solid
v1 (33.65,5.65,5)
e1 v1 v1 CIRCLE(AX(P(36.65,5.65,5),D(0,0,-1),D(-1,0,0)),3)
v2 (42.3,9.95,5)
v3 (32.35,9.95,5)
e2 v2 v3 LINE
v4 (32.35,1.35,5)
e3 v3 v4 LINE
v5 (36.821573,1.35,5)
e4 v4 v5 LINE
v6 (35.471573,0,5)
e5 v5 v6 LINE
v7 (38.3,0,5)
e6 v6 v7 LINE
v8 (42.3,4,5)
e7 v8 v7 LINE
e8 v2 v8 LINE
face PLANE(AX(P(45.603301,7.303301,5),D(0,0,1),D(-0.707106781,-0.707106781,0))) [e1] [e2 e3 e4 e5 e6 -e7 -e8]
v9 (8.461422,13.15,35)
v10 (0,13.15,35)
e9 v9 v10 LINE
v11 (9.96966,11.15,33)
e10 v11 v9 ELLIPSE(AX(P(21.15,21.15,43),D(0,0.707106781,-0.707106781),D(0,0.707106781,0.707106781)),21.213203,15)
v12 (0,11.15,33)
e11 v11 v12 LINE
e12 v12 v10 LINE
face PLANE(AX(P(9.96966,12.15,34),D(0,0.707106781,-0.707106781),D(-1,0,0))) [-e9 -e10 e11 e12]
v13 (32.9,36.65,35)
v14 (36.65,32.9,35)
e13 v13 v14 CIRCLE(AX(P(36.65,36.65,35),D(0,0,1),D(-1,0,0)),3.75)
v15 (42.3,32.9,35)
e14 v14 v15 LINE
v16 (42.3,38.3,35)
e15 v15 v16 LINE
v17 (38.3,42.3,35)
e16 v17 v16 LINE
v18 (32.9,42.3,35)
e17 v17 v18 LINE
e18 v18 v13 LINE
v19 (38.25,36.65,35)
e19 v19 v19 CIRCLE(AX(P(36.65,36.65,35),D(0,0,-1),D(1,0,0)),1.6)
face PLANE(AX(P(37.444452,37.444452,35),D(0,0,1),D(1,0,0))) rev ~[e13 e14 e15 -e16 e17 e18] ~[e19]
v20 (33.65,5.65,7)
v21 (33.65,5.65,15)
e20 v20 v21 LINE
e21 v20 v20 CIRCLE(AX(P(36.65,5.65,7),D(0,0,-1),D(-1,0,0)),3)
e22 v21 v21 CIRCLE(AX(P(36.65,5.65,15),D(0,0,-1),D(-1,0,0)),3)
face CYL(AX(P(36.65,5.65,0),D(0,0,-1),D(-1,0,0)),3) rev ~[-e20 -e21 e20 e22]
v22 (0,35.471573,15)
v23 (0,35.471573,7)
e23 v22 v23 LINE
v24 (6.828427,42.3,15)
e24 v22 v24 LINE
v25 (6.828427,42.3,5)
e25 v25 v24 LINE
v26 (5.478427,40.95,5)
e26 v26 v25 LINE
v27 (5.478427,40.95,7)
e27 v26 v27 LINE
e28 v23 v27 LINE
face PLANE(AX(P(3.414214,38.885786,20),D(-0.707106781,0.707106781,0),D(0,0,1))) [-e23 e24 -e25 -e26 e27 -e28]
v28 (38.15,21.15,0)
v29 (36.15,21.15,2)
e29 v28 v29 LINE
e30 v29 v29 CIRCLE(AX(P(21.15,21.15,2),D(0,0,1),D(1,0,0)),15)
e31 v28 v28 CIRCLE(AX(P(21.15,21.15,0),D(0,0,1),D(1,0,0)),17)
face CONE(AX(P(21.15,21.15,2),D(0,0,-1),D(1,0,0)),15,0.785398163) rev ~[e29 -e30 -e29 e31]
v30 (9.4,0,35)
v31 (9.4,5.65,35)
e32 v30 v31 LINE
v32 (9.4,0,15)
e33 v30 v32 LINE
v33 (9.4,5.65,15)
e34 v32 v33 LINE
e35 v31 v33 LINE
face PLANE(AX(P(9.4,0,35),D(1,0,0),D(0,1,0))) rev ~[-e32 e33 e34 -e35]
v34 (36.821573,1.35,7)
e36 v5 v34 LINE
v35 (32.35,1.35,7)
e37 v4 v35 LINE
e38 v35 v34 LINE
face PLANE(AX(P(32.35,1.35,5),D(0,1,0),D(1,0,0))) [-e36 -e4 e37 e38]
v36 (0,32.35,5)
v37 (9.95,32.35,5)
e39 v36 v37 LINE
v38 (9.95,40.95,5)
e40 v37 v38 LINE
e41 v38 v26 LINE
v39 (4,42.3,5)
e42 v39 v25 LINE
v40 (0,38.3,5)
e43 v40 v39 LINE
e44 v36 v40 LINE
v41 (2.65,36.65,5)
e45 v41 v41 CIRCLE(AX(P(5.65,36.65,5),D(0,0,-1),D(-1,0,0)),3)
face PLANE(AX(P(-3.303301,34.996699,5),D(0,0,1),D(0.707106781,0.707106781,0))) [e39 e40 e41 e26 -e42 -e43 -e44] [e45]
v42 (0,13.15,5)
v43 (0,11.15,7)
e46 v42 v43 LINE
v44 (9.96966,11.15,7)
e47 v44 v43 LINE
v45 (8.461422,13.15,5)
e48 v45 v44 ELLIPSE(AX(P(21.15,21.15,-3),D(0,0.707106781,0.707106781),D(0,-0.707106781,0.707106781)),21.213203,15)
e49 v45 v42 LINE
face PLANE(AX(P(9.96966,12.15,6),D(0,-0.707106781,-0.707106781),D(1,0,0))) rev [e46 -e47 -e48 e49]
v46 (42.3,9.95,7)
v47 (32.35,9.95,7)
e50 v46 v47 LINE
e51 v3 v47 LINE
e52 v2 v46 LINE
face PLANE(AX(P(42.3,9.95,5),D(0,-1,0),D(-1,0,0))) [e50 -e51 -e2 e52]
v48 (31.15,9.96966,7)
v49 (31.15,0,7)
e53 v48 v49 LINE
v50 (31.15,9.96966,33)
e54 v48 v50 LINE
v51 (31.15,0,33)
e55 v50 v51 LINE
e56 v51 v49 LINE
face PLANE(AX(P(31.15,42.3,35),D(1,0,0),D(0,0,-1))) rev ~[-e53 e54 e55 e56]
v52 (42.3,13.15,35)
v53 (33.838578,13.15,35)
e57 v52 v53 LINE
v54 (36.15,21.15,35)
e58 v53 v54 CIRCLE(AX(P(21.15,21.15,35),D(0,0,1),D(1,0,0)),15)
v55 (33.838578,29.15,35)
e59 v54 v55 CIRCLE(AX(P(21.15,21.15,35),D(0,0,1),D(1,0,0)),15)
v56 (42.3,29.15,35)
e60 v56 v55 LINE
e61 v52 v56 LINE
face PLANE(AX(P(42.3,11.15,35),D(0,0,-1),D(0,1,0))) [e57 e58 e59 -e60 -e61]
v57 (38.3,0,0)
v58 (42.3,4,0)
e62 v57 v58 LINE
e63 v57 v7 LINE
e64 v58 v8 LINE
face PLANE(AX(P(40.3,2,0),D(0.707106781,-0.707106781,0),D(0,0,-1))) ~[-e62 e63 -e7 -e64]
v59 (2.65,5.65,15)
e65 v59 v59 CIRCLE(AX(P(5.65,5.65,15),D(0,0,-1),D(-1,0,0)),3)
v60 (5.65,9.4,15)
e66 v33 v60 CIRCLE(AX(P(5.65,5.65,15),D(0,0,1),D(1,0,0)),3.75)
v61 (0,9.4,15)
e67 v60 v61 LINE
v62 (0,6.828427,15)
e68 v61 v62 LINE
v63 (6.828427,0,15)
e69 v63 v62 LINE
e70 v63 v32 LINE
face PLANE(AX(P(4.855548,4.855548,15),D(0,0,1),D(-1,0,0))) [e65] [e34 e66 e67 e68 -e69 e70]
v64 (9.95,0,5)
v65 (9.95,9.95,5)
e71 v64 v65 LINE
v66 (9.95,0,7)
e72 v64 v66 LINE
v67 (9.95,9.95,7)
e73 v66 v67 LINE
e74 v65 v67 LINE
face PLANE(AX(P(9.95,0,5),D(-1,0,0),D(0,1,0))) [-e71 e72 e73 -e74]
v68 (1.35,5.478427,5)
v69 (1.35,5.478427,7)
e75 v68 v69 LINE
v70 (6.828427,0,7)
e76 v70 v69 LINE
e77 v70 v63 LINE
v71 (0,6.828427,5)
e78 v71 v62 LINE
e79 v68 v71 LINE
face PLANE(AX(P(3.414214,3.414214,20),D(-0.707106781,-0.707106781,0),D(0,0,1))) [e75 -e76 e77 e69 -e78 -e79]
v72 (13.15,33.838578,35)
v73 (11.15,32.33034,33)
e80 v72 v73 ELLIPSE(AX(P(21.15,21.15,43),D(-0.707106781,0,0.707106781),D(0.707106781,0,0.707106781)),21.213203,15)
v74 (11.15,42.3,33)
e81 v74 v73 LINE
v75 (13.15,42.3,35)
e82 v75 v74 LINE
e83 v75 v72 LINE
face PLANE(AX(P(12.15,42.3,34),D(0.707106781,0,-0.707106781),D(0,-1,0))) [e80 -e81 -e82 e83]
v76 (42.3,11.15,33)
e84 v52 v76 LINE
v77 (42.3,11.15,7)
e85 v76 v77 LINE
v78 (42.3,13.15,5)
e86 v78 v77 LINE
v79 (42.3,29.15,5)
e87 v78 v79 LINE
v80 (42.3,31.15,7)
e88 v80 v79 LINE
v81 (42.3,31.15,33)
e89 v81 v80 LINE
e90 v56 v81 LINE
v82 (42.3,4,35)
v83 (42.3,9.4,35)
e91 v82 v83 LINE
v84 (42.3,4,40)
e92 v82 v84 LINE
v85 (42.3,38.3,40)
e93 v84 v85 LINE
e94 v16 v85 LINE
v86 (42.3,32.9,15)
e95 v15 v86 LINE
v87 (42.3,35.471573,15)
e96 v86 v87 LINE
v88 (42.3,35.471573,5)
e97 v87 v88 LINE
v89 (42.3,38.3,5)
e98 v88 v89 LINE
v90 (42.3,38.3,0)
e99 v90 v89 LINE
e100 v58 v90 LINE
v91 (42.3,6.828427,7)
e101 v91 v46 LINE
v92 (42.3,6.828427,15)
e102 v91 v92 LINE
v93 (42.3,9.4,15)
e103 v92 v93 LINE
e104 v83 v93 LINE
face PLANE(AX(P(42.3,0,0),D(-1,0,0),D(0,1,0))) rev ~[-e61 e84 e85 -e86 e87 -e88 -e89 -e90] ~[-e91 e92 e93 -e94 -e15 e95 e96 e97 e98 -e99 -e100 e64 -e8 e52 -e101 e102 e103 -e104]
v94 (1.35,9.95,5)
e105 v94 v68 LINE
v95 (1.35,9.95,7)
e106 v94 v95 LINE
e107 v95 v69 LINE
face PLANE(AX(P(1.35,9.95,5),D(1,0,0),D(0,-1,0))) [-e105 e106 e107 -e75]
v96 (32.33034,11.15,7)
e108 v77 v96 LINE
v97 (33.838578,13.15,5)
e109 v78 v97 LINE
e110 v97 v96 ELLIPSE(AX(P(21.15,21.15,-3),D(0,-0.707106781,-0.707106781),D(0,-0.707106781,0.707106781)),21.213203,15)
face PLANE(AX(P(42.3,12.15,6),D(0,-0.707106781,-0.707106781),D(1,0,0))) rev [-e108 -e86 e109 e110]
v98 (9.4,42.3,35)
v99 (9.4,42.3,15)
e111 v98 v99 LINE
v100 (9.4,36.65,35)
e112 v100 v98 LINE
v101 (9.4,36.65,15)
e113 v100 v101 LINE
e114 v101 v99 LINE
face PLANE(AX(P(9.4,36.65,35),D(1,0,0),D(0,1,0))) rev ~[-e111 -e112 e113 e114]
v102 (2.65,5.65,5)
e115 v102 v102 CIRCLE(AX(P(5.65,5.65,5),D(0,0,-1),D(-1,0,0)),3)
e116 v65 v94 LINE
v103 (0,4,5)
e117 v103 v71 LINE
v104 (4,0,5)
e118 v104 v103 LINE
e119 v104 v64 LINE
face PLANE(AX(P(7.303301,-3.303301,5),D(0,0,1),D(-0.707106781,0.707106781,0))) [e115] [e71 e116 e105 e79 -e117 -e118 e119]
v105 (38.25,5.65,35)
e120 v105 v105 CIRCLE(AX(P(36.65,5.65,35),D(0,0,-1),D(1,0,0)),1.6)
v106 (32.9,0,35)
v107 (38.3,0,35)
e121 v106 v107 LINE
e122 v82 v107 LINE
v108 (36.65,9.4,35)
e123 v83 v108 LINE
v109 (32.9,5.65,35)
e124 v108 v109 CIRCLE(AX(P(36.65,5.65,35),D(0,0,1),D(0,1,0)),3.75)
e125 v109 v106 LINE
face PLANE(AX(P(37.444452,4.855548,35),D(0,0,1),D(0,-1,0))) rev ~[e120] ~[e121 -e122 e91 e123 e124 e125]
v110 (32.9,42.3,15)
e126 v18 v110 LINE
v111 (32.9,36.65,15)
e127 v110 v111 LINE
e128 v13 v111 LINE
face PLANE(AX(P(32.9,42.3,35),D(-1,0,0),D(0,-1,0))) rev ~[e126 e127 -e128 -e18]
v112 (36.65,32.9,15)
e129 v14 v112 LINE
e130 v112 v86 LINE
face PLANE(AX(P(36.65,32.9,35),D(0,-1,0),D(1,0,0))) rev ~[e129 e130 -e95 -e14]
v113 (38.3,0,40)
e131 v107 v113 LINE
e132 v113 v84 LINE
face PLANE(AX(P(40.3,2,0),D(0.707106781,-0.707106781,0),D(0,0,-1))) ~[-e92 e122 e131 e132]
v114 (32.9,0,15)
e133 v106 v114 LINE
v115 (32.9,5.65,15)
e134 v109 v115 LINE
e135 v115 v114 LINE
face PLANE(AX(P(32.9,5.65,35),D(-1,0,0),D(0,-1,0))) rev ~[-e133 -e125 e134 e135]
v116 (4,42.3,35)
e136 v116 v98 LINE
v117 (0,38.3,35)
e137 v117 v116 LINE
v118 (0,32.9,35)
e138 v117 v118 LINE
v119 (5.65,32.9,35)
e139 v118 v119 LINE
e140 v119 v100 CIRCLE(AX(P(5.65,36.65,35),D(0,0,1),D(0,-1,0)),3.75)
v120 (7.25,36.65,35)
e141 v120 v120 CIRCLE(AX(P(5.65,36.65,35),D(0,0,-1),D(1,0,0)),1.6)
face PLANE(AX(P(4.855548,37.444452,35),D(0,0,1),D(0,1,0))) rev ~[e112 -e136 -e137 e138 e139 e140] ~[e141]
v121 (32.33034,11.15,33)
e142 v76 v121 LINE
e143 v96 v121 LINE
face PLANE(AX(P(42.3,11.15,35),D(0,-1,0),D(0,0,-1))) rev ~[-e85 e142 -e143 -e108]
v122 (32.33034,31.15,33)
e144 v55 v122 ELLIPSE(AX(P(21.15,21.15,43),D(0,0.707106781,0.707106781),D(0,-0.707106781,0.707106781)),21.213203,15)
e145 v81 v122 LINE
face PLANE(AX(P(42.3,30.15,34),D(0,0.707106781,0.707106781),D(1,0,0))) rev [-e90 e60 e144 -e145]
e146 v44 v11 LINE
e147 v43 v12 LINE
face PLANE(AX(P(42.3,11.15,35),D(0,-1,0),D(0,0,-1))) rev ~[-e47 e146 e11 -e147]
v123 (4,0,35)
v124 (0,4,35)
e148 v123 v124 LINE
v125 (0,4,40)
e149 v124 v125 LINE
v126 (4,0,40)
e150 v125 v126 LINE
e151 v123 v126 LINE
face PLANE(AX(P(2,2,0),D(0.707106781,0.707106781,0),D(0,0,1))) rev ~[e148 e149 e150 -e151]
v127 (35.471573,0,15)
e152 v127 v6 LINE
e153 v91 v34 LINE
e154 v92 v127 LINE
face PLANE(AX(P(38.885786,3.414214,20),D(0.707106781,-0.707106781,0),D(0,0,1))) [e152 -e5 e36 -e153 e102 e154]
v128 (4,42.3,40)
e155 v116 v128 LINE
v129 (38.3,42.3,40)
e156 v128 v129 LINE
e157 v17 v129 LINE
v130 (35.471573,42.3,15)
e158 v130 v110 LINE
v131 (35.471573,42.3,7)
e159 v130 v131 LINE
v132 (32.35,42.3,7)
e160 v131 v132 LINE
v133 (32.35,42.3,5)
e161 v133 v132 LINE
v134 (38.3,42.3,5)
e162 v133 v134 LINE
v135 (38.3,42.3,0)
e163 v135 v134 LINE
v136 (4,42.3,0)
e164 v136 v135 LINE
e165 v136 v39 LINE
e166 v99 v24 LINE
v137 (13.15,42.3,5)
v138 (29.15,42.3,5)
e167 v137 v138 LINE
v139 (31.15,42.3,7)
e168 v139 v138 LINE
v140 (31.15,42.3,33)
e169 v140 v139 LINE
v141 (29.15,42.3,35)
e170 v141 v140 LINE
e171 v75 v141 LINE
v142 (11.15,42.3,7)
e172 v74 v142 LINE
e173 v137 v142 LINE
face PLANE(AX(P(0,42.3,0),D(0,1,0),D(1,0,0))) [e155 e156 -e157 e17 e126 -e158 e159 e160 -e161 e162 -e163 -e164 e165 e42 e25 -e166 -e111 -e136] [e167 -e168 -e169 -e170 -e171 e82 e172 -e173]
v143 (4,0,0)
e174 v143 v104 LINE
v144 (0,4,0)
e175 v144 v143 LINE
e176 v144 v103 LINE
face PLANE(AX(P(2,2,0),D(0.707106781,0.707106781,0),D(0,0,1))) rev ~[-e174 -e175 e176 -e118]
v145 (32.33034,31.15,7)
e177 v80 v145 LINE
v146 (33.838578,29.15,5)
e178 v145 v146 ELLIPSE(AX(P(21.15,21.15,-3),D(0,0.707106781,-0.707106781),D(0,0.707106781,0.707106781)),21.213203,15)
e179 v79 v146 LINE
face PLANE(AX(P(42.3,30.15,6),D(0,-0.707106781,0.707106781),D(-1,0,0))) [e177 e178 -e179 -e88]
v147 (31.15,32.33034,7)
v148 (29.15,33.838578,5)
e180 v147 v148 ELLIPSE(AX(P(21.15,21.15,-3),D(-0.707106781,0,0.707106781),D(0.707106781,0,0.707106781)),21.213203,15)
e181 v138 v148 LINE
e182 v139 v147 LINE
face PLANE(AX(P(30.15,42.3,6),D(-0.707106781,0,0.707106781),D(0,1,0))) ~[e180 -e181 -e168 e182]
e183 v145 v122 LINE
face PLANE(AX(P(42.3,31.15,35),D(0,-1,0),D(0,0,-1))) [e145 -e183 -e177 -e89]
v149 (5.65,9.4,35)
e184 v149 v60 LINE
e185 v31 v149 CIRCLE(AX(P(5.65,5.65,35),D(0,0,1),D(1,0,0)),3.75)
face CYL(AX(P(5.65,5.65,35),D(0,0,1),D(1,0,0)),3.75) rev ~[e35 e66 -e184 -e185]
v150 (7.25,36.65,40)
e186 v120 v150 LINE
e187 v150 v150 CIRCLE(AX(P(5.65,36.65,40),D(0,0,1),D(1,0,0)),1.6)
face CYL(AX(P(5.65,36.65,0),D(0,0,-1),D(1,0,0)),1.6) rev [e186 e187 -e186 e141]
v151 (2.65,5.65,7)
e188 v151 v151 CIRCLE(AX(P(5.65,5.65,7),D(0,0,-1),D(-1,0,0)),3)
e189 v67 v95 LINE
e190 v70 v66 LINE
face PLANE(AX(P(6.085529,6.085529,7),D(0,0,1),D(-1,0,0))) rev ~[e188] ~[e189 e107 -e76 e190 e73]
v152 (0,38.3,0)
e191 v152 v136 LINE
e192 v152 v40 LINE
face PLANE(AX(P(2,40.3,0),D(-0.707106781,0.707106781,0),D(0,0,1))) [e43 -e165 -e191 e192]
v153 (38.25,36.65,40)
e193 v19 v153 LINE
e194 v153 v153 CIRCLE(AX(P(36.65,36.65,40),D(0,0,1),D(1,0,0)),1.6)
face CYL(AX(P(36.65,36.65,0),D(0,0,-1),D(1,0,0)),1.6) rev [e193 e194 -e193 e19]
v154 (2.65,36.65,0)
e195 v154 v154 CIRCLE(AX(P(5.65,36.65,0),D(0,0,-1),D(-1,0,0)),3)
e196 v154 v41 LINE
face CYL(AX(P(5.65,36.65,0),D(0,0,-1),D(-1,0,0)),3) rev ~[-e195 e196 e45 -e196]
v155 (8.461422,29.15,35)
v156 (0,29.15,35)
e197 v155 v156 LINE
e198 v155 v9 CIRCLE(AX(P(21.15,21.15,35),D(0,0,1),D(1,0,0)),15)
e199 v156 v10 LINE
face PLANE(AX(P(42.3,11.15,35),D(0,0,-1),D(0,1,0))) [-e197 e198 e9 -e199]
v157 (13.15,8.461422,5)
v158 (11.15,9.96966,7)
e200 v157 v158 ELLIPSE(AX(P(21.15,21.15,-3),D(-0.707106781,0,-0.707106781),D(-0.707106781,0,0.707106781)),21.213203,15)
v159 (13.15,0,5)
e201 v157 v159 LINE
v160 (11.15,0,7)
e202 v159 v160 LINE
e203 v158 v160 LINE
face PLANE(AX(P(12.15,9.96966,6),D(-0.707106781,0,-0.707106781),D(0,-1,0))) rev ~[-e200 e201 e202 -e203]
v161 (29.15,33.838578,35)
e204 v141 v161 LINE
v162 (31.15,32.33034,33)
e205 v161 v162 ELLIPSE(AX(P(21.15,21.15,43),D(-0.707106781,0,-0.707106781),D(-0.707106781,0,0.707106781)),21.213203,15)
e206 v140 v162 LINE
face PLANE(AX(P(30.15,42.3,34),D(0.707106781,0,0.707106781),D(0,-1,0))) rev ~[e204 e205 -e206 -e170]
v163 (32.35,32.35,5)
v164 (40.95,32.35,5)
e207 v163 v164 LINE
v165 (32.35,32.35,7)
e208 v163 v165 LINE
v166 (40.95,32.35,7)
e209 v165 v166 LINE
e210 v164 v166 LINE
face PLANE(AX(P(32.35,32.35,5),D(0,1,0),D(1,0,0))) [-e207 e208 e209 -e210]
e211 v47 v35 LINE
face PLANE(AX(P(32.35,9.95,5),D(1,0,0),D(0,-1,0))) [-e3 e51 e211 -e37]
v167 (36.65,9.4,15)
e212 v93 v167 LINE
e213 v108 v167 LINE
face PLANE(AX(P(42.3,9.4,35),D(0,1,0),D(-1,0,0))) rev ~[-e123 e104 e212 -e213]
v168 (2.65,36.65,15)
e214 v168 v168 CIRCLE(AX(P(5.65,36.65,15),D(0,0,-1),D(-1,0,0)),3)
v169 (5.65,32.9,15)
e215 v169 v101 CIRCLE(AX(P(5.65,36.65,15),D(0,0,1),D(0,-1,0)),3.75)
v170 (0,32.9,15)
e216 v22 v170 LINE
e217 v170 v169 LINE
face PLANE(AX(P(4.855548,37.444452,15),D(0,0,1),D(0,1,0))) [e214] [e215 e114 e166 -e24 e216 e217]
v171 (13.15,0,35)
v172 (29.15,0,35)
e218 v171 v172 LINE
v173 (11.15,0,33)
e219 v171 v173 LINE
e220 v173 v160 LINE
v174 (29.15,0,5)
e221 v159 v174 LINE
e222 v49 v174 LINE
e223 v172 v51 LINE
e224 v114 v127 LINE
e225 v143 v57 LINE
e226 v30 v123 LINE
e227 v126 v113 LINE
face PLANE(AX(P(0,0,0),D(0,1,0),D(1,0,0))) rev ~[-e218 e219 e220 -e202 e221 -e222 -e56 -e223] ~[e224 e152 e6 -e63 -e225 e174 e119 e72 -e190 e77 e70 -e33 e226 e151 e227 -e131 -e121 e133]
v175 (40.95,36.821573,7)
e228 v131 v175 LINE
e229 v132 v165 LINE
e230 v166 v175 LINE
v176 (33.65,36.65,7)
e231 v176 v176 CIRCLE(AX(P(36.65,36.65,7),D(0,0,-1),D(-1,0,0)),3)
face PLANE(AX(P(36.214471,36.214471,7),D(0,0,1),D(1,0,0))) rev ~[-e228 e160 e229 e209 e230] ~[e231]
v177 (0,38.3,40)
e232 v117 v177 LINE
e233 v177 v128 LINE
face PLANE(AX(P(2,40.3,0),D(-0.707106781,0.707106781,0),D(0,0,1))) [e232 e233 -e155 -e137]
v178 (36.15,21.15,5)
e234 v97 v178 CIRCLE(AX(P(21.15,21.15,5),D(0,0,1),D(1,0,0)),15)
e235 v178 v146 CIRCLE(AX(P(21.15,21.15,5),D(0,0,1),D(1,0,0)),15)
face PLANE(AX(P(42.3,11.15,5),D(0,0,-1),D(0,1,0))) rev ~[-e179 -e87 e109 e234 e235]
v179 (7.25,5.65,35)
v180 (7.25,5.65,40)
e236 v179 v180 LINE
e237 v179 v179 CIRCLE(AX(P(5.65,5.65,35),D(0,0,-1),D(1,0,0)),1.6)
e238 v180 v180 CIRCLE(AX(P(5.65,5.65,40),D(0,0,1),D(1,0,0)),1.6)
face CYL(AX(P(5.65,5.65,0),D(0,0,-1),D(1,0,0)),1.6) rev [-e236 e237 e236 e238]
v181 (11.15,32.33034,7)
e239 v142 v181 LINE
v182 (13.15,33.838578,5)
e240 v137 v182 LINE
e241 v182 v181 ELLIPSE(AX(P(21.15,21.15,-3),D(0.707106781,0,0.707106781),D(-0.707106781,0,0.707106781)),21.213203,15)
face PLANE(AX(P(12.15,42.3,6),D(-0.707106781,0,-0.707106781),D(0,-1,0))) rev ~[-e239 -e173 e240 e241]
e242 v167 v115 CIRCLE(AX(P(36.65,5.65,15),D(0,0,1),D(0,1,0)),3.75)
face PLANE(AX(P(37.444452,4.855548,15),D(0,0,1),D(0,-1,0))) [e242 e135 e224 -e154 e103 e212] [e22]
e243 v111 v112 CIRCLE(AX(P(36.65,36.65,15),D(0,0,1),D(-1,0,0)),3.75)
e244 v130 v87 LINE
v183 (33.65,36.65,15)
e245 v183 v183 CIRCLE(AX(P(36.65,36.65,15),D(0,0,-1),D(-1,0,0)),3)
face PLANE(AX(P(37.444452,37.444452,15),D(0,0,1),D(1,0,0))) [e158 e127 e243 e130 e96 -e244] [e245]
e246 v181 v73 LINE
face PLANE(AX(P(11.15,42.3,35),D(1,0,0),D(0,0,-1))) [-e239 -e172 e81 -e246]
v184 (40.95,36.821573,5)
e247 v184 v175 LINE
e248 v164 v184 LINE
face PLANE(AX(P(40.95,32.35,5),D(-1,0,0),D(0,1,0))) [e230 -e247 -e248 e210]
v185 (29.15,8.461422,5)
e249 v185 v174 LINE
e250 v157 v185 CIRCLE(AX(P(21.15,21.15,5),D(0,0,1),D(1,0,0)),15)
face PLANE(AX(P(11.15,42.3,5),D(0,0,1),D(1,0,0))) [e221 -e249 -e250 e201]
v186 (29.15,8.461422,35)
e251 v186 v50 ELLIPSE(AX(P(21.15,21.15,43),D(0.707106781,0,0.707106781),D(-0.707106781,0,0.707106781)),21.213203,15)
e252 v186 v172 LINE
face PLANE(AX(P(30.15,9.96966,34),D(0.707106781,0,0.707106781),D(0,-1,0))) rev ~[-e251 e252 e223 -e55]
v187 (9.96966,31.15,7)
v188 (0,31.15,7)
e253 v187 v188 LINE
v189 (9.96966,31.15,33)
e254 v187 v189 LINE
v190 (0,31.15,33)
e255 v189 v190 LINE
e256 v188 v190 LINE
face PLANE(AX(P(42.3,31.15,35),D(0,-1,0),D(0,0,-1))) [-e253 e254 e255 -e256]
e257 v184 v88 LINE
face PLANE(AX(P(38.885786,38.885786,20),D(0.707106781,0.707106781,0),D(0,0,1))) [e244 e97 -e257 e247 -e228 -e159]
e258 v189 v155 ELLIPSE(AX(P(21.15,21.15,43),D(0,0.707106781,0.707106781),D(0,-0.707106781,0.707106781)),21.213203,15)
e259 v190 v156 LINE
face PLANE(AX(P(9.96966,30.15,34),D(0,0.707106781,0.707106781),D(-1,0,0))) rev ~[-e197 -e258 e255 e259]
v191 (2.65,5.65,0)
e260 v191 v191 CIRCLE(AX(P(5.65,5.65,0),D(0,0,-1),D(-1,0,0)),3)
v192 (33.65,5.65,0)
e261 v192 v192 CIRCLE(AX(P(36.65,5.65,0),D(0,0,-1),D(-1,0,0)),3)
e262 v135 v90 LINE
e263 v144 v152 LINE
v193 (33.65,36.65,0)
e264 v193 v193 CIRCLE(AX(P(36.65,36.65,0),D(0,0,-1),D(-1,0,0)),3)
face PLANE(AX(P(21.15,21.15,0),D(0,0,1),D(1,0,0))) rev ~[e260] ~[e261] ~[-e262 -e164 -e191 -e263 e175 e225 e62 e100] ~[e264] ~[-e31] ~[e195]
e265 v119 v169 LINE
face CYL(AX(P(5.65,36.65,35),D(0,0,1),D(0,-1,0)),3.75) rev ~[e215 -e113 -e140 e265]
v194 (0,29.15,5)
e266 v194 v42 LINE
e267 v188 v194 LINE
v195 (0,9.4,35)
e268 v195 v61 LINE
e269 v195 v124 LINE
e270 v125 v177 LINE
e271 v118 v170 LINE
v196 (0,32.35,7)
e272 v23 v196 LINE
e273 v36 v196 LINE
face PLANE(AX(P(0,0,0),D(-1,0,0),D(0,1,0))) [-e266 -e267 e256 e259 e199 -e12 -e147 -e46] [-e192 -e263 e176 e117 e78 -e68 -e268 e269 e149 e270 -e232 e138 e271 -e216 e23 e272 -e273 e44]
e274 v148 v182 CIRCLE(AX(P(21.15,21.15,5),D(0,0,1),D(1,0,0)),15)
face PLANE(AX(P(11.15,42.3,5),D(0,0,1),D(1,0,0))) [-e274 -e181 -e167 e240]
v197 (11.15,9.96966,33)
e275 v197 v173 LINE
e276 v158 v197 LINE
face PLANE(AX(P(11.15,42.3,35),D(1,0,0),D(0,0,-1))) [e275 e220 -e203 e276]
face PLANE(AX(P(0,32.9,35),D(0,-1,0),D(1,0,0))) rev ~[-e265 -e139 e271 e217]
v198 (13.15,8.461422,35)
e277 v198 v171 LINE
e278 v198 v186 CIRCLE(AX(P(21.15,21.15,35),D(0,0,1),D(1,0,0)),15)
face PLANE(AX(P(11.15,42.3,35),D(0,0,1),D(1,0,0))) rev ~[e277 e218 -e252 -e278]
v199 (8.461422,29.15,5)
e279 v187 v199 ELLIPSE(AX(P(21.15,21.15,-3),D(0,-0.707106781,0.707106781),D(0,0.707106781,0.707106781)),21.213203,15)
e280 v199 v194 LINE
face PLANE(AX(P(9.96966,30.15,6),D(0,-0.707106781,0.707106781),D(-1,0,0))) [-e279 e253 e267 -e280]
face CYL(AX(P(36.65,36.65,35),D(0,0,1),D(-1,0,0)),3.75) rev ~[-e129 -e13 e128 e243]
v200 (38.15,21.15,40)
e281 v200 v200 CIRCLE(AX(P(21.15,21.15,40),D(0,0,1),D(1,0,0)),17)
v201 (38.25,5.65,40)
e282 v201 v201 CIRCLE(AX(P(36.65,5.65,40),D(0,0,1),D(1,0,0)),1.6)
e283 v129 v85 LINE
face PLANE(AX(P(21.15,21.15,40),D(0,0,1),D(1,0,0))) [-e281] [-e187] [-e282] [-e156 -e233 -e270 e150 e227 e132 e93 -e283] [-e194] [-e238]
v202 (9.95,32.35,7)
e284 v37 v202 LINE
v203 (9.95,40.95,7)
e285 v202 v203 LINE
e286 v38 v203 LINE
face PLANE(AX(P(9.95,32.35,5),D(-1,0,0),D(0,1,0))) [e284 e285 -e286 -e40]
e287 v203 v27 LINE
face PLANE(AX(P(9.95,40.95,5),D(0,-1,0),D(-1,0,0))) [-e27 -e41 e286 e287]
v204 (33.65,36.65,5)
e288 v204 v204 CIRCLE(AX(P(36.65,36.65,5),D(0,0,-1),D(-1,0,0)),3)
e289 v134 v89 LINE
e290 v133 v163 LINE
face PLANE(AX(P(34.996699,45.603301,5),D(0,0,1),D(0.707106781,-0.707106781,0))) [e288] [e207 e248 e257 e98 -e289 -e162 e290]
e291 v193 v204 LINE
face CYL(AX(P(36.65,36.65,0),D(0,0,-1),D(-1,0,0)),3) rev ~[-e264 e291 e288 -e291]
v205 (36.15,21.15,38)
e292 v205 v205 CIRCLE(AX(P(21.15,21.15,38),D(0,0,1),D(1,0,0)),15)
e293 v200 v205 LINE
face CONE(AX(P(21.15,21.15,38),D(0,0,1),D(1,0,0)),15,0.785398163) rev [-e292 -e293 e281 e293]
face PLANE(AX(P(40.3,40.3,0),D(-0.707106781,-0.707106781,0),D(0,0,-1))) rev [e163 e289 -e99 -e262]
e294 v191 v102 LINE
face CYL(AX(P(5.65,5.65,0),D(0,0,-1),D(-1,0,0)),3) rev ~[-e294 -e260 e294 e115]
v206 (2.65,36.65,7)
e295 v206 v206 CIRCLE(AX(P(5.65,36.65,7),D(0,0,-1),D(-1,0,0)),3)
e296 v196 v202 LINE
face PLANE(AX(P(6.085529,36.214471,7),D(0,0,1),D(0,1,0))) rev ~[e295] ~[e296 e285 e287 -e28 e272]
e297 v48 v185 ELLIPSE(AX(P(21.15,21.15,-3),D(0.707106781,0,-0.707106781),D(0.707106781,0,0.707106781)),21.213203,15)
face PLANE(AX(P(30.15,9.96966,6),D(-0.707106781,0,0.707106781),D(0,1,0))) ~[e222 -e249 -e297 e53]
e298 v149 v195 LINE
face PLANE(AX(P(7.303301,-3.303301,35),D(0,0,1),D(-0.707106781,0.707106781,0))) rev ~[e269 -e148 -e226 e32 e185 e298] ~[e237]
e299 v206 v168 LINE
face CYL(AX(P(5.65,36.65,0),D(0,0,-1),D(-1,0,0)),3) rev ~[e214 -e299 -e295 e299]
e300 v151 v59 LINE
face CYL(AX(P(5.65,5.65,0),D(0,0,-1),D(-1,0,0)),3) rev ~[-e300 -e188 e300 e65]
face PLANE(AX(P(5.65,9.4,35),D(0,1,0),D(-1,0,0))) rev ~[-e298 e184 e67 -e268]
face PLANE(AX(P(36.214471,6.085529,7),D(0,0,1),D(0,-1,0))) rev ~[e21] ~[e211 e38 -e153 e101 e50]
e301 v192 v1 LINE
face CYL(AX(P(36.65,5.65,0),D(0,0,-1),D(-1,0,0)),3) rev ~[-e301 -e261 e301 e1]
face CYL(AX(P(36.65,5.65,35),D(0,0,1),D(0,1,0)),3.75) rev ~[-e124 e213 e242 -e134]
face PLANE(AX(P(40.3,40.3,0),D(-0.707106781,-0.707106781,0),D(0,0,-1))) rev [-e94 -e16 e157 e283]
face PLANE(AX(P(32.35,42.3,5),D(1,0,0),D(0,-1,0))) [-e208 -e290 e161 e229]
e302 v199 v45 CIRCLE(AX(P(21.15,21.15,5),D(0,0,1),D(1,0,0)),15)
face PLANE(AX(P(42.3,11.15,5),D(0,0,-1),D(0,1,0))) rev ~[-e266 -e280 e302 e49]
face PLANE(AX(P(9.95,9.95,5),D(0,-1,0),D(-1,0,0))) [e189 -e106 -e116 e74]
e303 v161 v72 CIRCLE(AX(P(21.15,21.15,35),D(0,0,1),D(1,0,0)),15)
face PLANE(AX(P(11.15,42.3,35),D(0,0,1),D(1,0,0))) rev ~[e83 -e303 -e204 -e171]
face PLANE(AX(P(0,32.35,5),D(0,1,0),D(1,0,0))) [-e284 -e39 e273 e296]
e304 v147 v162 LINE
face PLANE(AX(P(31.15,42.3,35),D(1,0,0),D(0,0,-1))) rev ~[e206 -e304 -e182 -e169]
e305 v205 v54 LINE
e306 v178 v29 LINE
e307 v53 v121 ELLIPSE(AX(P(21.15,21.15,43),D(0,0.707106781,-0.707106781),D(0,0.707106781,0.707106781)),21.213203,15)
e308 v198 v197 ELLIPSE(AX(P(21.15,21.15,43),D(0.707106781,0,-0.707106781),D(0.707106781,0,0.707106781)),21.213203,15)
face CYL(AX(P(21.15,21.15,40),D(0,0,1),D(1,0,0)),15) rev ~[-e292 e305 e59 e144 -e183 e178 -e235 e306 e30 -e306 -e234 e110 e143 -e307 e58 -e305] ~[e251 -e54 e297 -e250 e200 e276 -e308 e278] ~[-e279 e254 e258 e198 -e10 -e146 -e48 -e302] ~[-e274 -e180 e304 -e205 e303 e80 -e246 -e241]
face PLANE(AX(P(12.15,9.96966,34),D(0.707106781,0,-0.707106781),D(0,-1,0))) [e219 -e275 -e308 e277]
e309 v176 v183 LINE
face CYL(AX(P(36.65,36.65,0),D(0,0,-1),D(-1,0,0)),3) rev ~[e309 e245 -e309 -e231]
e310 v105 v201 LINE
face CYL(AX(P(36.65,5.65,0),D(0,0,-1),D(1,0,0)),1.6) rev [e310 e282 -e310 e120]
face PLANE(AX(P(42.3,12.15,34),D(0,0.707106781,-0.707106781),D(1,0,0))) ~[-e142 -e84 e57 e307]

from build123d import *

# Parameters (mm, degrees)
SKETCH1_W           = 42.3
SKETCH1_H           = 42.3
SKETCH1_R           = 1.6
BOSS_EXTRUDE1_DEPTH = 40
SKETCH2_R           = 15
CUT_EXTRUDE1_DEPTH  = 40
CHAMFER1_SIZE       = 4
CHAMFER2_SIZE       = 2
SKETCH3_W           = 30
SKETCH3_H           = 20
CUT_EXTRUDE2_DEPTH  = 72.962351268
SKETCH4_W           = 20
SKETCH4_H           = 30
CUT_EXTRUDE3_DEPTH  = 72.962351268
CHAMFER3_SIZE       = 2
SKETCH5_W           = 30
SKETCH5_H           = 15
CUT_EXTRUDE5_DEPTH  = 2
CIRPATTERN1_COUNT   = 4
CUT_EXTRUDE6_DEPTH  = 2
CIRPATTERN2_COUNT   = 4
CUT_EXTRUDE7_DEPTH  = 20
CIRPATTERN3_COUNT   = 4
SKETCH10_R          = 3
CUT_EXTRUDE8_DEPTH  = 20


with BuildPart() as part:
    # Sketch1 → Boss-Extrude1 (new body)
    with BuildSketch(Plane.XY):
        with Locations((21.15, 21.15)):
            Rectangle(SKETCH1_W, SKETCH1_H)
        with Locations((5.65, 36.65)):
            Circle(SKETCH1_R, mode=Mode.SUBTRACT)
        with Locations((5.65, 5.65)):
            Circle(SKETCH1_R, mode=Mode.SUBTRACT)
        with Locations((36.65, 5.65)):
            Circle(SKETCH1_R, mode=Mode.SUBTRACT)
        with Locations((36.65, 36.65)):
            Circle(SKETCH1_R, mode=Mode.SUBTRACT)
    extrude(amount=BOSS_EXTRUDE1_DEPTH)

    # Sketch2 → Cut-Extrude1 (cut)
    with BuildSketch(Plane.XY.offset(40)):
        with Locations((21.15, 21.15)):
            Circle(SKETCH2_R)
    extrude(amount=-CUT_EXTRUDE1_DEPTH, mode=Mode.SUBTRACT)

    # Chamfer1
    chamfer1_edges = [part.edges().sort_by_distance(p)[0] for p in [
        (0, 0, 20),
        (0, 42.3, 20),
        (42.3, 42.3, 20),
        (42.3, 0, 20),
    ]]
    chamfer(chamfer1_edges, length=CHAMFER1_SIZE)

    # Chamfer2
    chamfer2_edges = [part.edges().sort_by_distance(p)[0] for p in [
        (6.15, 21.15, 0),
        (6.15, 21.15, 40),
    ]]
    chamfer(chamfer2_edges, length=CHAMFER2_SIZE)

    # Sketch3 → Cut-Extrude2 (cut, through all)
    with BuildSketch(Plane(origin=(42.3, 0, 0), x_dir=(0, 0, -1), z_dir=(1, 0, 0))):
        with Locations((-20, 21.15)):
            Rectangle(SKETCH3_W, SKETCH3_H)
    extrude(amount=-CUT_EXTRUDE2_DEPTH, mode=Mode.SUBTRACT)

    # Sketch4 → Cut-Extrude3 (cut, through all)
    with BuildSketch(Plane(origin=(0, 42.3, 0), x_dir=(1, 0, 0), z_dir=(0, 1, 0))):
        with Locations((21.15, -20)):
            Rectangle(SKETCH4_W, SKETCH4_H)
    extrude(amount=-CUT_EXTRUDE3_DEPTH, mode=Mode.SUBTRACT)

    # Chamfer3
    chamfer3_edges = [part.edges().sort_by_distance(p)[0] for p in [
        (31.15, 37.315169944, 5),
        (31.15, 4.984830056, 5),
        (31.15, 4.984830056, 35),
        (31.15, 37.315169944, 35),
        (11.15, 4.984830056, 35),
        (11.15, 37.315169944, 35),
        (11.15, 4.984830056, 5),
        (11.15, 37.315169944, 5),
        (4.984830056, 31.15, 5),
        (37.315169944, 31.15, 5),
        (37.315169944, 11.15, 5),
        (4.984830056, 11.15, 5),
        (4.984830056, 11.15, 35),
        (37.315169944, 11.15, 35),
        (4.984830056, 31.15, 35),
        (37.315169944, 31.15, 35),
    ]]
    chamfer(chamfer3_edges, length=CHAMFER3_SIZE)

    # Sketch5 → Cut-Extrude5 (cut)
    with BuildSketch(Plane(origin=(-19.15, 19.15, 0), x_dir=(0, 0, 1), z_dir=(-0.7071067811865469, 0.7071067811865481, 0))):
        with Locations((20, 29.910616844)):
            Rectangle(SKETCH5_W, SKETCH5_H)
    cut_extrude5 = extrude(amount=-CUT_EXTRUDE5_DEPTH, mode=Mode.SUBTRACT)

    # CirPattern1: Cut-Extrude5 ×4 about axis
    cirpattern1_axis = Axis((21.15, 21.15, 0), (0, 0, 1))
    for i in range(1, CIRPATTERN1_COUNT):
        add(cut_extrude5.rotate(cirpattern1_axis, i * 360 / CIRPATTERN1_COUNT), mode=Mode.SUBTRACT)

    # Sketch8 → Cut-Extrude6 (cut)
    with BuildSketch(Plane.XY.offset(5)):
        Polygon((36.821572875, 40.95), (32.35, 40.95), (32.35, 32.35), (40.95, 32.35), (40.95, 36.821572875), align=None)
        Polygon((35.471572875, 42.3), (36.821572875, 40.95), (39.65, 40.95), (38.3, 42.3), align=None)
        Polygon((32.35, 42.3), (32.35, 40.95), (36.821572875, 40.95), (35.471572875, 42.3), align=None)
        Polygon((39.65, 40.95), (36.821572875, 40.95), (40.95, 36.821572875), (40.95, 39.65), align=None)
        Polygon((38.3, 42.3), (39.65, 40.95), (40.95, 40.95), (40.95, 42.3), align=None)
    cut_extrude6 = extrude(amount=CUT_EXTRUDE6_DEPTH, mode=Mode.SUBTRACT)

    # CirPattern2: Cut-Extrude6 ×4 about axis
    cirpattern2_axis = Axis((21.15, 21.15, 0), (0, 0, 1))
    for i in range(1, CIRPATTERN2_COUNT):
        add(cut_extrude6.rotate(cirpattern2_axis, i * 360 / CIRPATTERN2_COUNT), mode=Mode.SUBTRACT)

    # Sketch9 → Cut-Extrude7 (cut)
    with BuildSketch(Plane(origin=(0, 0, 35), x_dir=(-1, 0, 0), z_dir=(0, 0, -1))):
        with BuildLine():
            Line((-36.65, 32.9), (-42.3, 32.9))
            Line((-42.3, 32.9), (-42.3, 38.3))
            Line((-42.3, 38.3), (-38.3, 42.3))
            Line((-38.3, 42.3), (-32.9, 42.3))
            Line((-32.9, 42.3), (-32.9, 36.65))
            ThreePointArc((-32.9, 36.65), (-33.998349571, 33.998349571), (-36.65, 32.9))
        make_face()
    cut_extrude7 = extrude(amount=CUT_EXTRUDE7_DEPTH, mode=Mode.SUBTRACT)

    # CirPattern3: Cut-Extrude7 ×4 about axis
    cirpattern3_axis = Axis((21.15, 21.15, 0), (0, 0, 1))
    for i in range(1, CIRPATTERN3_COUNT):
        add(cut_extrude7.rotate(cirpattern3_axis, i * 360 / CIRPATTERN3_COUNT), mode=Mode.SUBTRACT)

    # Sketch10 → Cut-Extrude8 (cut)
    with BuildSketch(Plane(origin=(0, 0, 0), x_dir=(-1, 0, 0), z_dir=(0, 0, -1))):
        with Locations((-36.65, 36.65)):
            Circle(SKETCH10_R)
        with Locations((-5.65, 36.65)):
            Circle(SKETCH10_R)
        with Locations((-5.65, 5.65)):
            Circle(SKETCH10_R)
        with Locations((-36.65, 5.65)):
            Circle(SKETCH10_R)
    extrude(amount=-CUT_EXTRUDE8_DEPTH, mode=Mode.SUBTRACT)


solid = part.part
